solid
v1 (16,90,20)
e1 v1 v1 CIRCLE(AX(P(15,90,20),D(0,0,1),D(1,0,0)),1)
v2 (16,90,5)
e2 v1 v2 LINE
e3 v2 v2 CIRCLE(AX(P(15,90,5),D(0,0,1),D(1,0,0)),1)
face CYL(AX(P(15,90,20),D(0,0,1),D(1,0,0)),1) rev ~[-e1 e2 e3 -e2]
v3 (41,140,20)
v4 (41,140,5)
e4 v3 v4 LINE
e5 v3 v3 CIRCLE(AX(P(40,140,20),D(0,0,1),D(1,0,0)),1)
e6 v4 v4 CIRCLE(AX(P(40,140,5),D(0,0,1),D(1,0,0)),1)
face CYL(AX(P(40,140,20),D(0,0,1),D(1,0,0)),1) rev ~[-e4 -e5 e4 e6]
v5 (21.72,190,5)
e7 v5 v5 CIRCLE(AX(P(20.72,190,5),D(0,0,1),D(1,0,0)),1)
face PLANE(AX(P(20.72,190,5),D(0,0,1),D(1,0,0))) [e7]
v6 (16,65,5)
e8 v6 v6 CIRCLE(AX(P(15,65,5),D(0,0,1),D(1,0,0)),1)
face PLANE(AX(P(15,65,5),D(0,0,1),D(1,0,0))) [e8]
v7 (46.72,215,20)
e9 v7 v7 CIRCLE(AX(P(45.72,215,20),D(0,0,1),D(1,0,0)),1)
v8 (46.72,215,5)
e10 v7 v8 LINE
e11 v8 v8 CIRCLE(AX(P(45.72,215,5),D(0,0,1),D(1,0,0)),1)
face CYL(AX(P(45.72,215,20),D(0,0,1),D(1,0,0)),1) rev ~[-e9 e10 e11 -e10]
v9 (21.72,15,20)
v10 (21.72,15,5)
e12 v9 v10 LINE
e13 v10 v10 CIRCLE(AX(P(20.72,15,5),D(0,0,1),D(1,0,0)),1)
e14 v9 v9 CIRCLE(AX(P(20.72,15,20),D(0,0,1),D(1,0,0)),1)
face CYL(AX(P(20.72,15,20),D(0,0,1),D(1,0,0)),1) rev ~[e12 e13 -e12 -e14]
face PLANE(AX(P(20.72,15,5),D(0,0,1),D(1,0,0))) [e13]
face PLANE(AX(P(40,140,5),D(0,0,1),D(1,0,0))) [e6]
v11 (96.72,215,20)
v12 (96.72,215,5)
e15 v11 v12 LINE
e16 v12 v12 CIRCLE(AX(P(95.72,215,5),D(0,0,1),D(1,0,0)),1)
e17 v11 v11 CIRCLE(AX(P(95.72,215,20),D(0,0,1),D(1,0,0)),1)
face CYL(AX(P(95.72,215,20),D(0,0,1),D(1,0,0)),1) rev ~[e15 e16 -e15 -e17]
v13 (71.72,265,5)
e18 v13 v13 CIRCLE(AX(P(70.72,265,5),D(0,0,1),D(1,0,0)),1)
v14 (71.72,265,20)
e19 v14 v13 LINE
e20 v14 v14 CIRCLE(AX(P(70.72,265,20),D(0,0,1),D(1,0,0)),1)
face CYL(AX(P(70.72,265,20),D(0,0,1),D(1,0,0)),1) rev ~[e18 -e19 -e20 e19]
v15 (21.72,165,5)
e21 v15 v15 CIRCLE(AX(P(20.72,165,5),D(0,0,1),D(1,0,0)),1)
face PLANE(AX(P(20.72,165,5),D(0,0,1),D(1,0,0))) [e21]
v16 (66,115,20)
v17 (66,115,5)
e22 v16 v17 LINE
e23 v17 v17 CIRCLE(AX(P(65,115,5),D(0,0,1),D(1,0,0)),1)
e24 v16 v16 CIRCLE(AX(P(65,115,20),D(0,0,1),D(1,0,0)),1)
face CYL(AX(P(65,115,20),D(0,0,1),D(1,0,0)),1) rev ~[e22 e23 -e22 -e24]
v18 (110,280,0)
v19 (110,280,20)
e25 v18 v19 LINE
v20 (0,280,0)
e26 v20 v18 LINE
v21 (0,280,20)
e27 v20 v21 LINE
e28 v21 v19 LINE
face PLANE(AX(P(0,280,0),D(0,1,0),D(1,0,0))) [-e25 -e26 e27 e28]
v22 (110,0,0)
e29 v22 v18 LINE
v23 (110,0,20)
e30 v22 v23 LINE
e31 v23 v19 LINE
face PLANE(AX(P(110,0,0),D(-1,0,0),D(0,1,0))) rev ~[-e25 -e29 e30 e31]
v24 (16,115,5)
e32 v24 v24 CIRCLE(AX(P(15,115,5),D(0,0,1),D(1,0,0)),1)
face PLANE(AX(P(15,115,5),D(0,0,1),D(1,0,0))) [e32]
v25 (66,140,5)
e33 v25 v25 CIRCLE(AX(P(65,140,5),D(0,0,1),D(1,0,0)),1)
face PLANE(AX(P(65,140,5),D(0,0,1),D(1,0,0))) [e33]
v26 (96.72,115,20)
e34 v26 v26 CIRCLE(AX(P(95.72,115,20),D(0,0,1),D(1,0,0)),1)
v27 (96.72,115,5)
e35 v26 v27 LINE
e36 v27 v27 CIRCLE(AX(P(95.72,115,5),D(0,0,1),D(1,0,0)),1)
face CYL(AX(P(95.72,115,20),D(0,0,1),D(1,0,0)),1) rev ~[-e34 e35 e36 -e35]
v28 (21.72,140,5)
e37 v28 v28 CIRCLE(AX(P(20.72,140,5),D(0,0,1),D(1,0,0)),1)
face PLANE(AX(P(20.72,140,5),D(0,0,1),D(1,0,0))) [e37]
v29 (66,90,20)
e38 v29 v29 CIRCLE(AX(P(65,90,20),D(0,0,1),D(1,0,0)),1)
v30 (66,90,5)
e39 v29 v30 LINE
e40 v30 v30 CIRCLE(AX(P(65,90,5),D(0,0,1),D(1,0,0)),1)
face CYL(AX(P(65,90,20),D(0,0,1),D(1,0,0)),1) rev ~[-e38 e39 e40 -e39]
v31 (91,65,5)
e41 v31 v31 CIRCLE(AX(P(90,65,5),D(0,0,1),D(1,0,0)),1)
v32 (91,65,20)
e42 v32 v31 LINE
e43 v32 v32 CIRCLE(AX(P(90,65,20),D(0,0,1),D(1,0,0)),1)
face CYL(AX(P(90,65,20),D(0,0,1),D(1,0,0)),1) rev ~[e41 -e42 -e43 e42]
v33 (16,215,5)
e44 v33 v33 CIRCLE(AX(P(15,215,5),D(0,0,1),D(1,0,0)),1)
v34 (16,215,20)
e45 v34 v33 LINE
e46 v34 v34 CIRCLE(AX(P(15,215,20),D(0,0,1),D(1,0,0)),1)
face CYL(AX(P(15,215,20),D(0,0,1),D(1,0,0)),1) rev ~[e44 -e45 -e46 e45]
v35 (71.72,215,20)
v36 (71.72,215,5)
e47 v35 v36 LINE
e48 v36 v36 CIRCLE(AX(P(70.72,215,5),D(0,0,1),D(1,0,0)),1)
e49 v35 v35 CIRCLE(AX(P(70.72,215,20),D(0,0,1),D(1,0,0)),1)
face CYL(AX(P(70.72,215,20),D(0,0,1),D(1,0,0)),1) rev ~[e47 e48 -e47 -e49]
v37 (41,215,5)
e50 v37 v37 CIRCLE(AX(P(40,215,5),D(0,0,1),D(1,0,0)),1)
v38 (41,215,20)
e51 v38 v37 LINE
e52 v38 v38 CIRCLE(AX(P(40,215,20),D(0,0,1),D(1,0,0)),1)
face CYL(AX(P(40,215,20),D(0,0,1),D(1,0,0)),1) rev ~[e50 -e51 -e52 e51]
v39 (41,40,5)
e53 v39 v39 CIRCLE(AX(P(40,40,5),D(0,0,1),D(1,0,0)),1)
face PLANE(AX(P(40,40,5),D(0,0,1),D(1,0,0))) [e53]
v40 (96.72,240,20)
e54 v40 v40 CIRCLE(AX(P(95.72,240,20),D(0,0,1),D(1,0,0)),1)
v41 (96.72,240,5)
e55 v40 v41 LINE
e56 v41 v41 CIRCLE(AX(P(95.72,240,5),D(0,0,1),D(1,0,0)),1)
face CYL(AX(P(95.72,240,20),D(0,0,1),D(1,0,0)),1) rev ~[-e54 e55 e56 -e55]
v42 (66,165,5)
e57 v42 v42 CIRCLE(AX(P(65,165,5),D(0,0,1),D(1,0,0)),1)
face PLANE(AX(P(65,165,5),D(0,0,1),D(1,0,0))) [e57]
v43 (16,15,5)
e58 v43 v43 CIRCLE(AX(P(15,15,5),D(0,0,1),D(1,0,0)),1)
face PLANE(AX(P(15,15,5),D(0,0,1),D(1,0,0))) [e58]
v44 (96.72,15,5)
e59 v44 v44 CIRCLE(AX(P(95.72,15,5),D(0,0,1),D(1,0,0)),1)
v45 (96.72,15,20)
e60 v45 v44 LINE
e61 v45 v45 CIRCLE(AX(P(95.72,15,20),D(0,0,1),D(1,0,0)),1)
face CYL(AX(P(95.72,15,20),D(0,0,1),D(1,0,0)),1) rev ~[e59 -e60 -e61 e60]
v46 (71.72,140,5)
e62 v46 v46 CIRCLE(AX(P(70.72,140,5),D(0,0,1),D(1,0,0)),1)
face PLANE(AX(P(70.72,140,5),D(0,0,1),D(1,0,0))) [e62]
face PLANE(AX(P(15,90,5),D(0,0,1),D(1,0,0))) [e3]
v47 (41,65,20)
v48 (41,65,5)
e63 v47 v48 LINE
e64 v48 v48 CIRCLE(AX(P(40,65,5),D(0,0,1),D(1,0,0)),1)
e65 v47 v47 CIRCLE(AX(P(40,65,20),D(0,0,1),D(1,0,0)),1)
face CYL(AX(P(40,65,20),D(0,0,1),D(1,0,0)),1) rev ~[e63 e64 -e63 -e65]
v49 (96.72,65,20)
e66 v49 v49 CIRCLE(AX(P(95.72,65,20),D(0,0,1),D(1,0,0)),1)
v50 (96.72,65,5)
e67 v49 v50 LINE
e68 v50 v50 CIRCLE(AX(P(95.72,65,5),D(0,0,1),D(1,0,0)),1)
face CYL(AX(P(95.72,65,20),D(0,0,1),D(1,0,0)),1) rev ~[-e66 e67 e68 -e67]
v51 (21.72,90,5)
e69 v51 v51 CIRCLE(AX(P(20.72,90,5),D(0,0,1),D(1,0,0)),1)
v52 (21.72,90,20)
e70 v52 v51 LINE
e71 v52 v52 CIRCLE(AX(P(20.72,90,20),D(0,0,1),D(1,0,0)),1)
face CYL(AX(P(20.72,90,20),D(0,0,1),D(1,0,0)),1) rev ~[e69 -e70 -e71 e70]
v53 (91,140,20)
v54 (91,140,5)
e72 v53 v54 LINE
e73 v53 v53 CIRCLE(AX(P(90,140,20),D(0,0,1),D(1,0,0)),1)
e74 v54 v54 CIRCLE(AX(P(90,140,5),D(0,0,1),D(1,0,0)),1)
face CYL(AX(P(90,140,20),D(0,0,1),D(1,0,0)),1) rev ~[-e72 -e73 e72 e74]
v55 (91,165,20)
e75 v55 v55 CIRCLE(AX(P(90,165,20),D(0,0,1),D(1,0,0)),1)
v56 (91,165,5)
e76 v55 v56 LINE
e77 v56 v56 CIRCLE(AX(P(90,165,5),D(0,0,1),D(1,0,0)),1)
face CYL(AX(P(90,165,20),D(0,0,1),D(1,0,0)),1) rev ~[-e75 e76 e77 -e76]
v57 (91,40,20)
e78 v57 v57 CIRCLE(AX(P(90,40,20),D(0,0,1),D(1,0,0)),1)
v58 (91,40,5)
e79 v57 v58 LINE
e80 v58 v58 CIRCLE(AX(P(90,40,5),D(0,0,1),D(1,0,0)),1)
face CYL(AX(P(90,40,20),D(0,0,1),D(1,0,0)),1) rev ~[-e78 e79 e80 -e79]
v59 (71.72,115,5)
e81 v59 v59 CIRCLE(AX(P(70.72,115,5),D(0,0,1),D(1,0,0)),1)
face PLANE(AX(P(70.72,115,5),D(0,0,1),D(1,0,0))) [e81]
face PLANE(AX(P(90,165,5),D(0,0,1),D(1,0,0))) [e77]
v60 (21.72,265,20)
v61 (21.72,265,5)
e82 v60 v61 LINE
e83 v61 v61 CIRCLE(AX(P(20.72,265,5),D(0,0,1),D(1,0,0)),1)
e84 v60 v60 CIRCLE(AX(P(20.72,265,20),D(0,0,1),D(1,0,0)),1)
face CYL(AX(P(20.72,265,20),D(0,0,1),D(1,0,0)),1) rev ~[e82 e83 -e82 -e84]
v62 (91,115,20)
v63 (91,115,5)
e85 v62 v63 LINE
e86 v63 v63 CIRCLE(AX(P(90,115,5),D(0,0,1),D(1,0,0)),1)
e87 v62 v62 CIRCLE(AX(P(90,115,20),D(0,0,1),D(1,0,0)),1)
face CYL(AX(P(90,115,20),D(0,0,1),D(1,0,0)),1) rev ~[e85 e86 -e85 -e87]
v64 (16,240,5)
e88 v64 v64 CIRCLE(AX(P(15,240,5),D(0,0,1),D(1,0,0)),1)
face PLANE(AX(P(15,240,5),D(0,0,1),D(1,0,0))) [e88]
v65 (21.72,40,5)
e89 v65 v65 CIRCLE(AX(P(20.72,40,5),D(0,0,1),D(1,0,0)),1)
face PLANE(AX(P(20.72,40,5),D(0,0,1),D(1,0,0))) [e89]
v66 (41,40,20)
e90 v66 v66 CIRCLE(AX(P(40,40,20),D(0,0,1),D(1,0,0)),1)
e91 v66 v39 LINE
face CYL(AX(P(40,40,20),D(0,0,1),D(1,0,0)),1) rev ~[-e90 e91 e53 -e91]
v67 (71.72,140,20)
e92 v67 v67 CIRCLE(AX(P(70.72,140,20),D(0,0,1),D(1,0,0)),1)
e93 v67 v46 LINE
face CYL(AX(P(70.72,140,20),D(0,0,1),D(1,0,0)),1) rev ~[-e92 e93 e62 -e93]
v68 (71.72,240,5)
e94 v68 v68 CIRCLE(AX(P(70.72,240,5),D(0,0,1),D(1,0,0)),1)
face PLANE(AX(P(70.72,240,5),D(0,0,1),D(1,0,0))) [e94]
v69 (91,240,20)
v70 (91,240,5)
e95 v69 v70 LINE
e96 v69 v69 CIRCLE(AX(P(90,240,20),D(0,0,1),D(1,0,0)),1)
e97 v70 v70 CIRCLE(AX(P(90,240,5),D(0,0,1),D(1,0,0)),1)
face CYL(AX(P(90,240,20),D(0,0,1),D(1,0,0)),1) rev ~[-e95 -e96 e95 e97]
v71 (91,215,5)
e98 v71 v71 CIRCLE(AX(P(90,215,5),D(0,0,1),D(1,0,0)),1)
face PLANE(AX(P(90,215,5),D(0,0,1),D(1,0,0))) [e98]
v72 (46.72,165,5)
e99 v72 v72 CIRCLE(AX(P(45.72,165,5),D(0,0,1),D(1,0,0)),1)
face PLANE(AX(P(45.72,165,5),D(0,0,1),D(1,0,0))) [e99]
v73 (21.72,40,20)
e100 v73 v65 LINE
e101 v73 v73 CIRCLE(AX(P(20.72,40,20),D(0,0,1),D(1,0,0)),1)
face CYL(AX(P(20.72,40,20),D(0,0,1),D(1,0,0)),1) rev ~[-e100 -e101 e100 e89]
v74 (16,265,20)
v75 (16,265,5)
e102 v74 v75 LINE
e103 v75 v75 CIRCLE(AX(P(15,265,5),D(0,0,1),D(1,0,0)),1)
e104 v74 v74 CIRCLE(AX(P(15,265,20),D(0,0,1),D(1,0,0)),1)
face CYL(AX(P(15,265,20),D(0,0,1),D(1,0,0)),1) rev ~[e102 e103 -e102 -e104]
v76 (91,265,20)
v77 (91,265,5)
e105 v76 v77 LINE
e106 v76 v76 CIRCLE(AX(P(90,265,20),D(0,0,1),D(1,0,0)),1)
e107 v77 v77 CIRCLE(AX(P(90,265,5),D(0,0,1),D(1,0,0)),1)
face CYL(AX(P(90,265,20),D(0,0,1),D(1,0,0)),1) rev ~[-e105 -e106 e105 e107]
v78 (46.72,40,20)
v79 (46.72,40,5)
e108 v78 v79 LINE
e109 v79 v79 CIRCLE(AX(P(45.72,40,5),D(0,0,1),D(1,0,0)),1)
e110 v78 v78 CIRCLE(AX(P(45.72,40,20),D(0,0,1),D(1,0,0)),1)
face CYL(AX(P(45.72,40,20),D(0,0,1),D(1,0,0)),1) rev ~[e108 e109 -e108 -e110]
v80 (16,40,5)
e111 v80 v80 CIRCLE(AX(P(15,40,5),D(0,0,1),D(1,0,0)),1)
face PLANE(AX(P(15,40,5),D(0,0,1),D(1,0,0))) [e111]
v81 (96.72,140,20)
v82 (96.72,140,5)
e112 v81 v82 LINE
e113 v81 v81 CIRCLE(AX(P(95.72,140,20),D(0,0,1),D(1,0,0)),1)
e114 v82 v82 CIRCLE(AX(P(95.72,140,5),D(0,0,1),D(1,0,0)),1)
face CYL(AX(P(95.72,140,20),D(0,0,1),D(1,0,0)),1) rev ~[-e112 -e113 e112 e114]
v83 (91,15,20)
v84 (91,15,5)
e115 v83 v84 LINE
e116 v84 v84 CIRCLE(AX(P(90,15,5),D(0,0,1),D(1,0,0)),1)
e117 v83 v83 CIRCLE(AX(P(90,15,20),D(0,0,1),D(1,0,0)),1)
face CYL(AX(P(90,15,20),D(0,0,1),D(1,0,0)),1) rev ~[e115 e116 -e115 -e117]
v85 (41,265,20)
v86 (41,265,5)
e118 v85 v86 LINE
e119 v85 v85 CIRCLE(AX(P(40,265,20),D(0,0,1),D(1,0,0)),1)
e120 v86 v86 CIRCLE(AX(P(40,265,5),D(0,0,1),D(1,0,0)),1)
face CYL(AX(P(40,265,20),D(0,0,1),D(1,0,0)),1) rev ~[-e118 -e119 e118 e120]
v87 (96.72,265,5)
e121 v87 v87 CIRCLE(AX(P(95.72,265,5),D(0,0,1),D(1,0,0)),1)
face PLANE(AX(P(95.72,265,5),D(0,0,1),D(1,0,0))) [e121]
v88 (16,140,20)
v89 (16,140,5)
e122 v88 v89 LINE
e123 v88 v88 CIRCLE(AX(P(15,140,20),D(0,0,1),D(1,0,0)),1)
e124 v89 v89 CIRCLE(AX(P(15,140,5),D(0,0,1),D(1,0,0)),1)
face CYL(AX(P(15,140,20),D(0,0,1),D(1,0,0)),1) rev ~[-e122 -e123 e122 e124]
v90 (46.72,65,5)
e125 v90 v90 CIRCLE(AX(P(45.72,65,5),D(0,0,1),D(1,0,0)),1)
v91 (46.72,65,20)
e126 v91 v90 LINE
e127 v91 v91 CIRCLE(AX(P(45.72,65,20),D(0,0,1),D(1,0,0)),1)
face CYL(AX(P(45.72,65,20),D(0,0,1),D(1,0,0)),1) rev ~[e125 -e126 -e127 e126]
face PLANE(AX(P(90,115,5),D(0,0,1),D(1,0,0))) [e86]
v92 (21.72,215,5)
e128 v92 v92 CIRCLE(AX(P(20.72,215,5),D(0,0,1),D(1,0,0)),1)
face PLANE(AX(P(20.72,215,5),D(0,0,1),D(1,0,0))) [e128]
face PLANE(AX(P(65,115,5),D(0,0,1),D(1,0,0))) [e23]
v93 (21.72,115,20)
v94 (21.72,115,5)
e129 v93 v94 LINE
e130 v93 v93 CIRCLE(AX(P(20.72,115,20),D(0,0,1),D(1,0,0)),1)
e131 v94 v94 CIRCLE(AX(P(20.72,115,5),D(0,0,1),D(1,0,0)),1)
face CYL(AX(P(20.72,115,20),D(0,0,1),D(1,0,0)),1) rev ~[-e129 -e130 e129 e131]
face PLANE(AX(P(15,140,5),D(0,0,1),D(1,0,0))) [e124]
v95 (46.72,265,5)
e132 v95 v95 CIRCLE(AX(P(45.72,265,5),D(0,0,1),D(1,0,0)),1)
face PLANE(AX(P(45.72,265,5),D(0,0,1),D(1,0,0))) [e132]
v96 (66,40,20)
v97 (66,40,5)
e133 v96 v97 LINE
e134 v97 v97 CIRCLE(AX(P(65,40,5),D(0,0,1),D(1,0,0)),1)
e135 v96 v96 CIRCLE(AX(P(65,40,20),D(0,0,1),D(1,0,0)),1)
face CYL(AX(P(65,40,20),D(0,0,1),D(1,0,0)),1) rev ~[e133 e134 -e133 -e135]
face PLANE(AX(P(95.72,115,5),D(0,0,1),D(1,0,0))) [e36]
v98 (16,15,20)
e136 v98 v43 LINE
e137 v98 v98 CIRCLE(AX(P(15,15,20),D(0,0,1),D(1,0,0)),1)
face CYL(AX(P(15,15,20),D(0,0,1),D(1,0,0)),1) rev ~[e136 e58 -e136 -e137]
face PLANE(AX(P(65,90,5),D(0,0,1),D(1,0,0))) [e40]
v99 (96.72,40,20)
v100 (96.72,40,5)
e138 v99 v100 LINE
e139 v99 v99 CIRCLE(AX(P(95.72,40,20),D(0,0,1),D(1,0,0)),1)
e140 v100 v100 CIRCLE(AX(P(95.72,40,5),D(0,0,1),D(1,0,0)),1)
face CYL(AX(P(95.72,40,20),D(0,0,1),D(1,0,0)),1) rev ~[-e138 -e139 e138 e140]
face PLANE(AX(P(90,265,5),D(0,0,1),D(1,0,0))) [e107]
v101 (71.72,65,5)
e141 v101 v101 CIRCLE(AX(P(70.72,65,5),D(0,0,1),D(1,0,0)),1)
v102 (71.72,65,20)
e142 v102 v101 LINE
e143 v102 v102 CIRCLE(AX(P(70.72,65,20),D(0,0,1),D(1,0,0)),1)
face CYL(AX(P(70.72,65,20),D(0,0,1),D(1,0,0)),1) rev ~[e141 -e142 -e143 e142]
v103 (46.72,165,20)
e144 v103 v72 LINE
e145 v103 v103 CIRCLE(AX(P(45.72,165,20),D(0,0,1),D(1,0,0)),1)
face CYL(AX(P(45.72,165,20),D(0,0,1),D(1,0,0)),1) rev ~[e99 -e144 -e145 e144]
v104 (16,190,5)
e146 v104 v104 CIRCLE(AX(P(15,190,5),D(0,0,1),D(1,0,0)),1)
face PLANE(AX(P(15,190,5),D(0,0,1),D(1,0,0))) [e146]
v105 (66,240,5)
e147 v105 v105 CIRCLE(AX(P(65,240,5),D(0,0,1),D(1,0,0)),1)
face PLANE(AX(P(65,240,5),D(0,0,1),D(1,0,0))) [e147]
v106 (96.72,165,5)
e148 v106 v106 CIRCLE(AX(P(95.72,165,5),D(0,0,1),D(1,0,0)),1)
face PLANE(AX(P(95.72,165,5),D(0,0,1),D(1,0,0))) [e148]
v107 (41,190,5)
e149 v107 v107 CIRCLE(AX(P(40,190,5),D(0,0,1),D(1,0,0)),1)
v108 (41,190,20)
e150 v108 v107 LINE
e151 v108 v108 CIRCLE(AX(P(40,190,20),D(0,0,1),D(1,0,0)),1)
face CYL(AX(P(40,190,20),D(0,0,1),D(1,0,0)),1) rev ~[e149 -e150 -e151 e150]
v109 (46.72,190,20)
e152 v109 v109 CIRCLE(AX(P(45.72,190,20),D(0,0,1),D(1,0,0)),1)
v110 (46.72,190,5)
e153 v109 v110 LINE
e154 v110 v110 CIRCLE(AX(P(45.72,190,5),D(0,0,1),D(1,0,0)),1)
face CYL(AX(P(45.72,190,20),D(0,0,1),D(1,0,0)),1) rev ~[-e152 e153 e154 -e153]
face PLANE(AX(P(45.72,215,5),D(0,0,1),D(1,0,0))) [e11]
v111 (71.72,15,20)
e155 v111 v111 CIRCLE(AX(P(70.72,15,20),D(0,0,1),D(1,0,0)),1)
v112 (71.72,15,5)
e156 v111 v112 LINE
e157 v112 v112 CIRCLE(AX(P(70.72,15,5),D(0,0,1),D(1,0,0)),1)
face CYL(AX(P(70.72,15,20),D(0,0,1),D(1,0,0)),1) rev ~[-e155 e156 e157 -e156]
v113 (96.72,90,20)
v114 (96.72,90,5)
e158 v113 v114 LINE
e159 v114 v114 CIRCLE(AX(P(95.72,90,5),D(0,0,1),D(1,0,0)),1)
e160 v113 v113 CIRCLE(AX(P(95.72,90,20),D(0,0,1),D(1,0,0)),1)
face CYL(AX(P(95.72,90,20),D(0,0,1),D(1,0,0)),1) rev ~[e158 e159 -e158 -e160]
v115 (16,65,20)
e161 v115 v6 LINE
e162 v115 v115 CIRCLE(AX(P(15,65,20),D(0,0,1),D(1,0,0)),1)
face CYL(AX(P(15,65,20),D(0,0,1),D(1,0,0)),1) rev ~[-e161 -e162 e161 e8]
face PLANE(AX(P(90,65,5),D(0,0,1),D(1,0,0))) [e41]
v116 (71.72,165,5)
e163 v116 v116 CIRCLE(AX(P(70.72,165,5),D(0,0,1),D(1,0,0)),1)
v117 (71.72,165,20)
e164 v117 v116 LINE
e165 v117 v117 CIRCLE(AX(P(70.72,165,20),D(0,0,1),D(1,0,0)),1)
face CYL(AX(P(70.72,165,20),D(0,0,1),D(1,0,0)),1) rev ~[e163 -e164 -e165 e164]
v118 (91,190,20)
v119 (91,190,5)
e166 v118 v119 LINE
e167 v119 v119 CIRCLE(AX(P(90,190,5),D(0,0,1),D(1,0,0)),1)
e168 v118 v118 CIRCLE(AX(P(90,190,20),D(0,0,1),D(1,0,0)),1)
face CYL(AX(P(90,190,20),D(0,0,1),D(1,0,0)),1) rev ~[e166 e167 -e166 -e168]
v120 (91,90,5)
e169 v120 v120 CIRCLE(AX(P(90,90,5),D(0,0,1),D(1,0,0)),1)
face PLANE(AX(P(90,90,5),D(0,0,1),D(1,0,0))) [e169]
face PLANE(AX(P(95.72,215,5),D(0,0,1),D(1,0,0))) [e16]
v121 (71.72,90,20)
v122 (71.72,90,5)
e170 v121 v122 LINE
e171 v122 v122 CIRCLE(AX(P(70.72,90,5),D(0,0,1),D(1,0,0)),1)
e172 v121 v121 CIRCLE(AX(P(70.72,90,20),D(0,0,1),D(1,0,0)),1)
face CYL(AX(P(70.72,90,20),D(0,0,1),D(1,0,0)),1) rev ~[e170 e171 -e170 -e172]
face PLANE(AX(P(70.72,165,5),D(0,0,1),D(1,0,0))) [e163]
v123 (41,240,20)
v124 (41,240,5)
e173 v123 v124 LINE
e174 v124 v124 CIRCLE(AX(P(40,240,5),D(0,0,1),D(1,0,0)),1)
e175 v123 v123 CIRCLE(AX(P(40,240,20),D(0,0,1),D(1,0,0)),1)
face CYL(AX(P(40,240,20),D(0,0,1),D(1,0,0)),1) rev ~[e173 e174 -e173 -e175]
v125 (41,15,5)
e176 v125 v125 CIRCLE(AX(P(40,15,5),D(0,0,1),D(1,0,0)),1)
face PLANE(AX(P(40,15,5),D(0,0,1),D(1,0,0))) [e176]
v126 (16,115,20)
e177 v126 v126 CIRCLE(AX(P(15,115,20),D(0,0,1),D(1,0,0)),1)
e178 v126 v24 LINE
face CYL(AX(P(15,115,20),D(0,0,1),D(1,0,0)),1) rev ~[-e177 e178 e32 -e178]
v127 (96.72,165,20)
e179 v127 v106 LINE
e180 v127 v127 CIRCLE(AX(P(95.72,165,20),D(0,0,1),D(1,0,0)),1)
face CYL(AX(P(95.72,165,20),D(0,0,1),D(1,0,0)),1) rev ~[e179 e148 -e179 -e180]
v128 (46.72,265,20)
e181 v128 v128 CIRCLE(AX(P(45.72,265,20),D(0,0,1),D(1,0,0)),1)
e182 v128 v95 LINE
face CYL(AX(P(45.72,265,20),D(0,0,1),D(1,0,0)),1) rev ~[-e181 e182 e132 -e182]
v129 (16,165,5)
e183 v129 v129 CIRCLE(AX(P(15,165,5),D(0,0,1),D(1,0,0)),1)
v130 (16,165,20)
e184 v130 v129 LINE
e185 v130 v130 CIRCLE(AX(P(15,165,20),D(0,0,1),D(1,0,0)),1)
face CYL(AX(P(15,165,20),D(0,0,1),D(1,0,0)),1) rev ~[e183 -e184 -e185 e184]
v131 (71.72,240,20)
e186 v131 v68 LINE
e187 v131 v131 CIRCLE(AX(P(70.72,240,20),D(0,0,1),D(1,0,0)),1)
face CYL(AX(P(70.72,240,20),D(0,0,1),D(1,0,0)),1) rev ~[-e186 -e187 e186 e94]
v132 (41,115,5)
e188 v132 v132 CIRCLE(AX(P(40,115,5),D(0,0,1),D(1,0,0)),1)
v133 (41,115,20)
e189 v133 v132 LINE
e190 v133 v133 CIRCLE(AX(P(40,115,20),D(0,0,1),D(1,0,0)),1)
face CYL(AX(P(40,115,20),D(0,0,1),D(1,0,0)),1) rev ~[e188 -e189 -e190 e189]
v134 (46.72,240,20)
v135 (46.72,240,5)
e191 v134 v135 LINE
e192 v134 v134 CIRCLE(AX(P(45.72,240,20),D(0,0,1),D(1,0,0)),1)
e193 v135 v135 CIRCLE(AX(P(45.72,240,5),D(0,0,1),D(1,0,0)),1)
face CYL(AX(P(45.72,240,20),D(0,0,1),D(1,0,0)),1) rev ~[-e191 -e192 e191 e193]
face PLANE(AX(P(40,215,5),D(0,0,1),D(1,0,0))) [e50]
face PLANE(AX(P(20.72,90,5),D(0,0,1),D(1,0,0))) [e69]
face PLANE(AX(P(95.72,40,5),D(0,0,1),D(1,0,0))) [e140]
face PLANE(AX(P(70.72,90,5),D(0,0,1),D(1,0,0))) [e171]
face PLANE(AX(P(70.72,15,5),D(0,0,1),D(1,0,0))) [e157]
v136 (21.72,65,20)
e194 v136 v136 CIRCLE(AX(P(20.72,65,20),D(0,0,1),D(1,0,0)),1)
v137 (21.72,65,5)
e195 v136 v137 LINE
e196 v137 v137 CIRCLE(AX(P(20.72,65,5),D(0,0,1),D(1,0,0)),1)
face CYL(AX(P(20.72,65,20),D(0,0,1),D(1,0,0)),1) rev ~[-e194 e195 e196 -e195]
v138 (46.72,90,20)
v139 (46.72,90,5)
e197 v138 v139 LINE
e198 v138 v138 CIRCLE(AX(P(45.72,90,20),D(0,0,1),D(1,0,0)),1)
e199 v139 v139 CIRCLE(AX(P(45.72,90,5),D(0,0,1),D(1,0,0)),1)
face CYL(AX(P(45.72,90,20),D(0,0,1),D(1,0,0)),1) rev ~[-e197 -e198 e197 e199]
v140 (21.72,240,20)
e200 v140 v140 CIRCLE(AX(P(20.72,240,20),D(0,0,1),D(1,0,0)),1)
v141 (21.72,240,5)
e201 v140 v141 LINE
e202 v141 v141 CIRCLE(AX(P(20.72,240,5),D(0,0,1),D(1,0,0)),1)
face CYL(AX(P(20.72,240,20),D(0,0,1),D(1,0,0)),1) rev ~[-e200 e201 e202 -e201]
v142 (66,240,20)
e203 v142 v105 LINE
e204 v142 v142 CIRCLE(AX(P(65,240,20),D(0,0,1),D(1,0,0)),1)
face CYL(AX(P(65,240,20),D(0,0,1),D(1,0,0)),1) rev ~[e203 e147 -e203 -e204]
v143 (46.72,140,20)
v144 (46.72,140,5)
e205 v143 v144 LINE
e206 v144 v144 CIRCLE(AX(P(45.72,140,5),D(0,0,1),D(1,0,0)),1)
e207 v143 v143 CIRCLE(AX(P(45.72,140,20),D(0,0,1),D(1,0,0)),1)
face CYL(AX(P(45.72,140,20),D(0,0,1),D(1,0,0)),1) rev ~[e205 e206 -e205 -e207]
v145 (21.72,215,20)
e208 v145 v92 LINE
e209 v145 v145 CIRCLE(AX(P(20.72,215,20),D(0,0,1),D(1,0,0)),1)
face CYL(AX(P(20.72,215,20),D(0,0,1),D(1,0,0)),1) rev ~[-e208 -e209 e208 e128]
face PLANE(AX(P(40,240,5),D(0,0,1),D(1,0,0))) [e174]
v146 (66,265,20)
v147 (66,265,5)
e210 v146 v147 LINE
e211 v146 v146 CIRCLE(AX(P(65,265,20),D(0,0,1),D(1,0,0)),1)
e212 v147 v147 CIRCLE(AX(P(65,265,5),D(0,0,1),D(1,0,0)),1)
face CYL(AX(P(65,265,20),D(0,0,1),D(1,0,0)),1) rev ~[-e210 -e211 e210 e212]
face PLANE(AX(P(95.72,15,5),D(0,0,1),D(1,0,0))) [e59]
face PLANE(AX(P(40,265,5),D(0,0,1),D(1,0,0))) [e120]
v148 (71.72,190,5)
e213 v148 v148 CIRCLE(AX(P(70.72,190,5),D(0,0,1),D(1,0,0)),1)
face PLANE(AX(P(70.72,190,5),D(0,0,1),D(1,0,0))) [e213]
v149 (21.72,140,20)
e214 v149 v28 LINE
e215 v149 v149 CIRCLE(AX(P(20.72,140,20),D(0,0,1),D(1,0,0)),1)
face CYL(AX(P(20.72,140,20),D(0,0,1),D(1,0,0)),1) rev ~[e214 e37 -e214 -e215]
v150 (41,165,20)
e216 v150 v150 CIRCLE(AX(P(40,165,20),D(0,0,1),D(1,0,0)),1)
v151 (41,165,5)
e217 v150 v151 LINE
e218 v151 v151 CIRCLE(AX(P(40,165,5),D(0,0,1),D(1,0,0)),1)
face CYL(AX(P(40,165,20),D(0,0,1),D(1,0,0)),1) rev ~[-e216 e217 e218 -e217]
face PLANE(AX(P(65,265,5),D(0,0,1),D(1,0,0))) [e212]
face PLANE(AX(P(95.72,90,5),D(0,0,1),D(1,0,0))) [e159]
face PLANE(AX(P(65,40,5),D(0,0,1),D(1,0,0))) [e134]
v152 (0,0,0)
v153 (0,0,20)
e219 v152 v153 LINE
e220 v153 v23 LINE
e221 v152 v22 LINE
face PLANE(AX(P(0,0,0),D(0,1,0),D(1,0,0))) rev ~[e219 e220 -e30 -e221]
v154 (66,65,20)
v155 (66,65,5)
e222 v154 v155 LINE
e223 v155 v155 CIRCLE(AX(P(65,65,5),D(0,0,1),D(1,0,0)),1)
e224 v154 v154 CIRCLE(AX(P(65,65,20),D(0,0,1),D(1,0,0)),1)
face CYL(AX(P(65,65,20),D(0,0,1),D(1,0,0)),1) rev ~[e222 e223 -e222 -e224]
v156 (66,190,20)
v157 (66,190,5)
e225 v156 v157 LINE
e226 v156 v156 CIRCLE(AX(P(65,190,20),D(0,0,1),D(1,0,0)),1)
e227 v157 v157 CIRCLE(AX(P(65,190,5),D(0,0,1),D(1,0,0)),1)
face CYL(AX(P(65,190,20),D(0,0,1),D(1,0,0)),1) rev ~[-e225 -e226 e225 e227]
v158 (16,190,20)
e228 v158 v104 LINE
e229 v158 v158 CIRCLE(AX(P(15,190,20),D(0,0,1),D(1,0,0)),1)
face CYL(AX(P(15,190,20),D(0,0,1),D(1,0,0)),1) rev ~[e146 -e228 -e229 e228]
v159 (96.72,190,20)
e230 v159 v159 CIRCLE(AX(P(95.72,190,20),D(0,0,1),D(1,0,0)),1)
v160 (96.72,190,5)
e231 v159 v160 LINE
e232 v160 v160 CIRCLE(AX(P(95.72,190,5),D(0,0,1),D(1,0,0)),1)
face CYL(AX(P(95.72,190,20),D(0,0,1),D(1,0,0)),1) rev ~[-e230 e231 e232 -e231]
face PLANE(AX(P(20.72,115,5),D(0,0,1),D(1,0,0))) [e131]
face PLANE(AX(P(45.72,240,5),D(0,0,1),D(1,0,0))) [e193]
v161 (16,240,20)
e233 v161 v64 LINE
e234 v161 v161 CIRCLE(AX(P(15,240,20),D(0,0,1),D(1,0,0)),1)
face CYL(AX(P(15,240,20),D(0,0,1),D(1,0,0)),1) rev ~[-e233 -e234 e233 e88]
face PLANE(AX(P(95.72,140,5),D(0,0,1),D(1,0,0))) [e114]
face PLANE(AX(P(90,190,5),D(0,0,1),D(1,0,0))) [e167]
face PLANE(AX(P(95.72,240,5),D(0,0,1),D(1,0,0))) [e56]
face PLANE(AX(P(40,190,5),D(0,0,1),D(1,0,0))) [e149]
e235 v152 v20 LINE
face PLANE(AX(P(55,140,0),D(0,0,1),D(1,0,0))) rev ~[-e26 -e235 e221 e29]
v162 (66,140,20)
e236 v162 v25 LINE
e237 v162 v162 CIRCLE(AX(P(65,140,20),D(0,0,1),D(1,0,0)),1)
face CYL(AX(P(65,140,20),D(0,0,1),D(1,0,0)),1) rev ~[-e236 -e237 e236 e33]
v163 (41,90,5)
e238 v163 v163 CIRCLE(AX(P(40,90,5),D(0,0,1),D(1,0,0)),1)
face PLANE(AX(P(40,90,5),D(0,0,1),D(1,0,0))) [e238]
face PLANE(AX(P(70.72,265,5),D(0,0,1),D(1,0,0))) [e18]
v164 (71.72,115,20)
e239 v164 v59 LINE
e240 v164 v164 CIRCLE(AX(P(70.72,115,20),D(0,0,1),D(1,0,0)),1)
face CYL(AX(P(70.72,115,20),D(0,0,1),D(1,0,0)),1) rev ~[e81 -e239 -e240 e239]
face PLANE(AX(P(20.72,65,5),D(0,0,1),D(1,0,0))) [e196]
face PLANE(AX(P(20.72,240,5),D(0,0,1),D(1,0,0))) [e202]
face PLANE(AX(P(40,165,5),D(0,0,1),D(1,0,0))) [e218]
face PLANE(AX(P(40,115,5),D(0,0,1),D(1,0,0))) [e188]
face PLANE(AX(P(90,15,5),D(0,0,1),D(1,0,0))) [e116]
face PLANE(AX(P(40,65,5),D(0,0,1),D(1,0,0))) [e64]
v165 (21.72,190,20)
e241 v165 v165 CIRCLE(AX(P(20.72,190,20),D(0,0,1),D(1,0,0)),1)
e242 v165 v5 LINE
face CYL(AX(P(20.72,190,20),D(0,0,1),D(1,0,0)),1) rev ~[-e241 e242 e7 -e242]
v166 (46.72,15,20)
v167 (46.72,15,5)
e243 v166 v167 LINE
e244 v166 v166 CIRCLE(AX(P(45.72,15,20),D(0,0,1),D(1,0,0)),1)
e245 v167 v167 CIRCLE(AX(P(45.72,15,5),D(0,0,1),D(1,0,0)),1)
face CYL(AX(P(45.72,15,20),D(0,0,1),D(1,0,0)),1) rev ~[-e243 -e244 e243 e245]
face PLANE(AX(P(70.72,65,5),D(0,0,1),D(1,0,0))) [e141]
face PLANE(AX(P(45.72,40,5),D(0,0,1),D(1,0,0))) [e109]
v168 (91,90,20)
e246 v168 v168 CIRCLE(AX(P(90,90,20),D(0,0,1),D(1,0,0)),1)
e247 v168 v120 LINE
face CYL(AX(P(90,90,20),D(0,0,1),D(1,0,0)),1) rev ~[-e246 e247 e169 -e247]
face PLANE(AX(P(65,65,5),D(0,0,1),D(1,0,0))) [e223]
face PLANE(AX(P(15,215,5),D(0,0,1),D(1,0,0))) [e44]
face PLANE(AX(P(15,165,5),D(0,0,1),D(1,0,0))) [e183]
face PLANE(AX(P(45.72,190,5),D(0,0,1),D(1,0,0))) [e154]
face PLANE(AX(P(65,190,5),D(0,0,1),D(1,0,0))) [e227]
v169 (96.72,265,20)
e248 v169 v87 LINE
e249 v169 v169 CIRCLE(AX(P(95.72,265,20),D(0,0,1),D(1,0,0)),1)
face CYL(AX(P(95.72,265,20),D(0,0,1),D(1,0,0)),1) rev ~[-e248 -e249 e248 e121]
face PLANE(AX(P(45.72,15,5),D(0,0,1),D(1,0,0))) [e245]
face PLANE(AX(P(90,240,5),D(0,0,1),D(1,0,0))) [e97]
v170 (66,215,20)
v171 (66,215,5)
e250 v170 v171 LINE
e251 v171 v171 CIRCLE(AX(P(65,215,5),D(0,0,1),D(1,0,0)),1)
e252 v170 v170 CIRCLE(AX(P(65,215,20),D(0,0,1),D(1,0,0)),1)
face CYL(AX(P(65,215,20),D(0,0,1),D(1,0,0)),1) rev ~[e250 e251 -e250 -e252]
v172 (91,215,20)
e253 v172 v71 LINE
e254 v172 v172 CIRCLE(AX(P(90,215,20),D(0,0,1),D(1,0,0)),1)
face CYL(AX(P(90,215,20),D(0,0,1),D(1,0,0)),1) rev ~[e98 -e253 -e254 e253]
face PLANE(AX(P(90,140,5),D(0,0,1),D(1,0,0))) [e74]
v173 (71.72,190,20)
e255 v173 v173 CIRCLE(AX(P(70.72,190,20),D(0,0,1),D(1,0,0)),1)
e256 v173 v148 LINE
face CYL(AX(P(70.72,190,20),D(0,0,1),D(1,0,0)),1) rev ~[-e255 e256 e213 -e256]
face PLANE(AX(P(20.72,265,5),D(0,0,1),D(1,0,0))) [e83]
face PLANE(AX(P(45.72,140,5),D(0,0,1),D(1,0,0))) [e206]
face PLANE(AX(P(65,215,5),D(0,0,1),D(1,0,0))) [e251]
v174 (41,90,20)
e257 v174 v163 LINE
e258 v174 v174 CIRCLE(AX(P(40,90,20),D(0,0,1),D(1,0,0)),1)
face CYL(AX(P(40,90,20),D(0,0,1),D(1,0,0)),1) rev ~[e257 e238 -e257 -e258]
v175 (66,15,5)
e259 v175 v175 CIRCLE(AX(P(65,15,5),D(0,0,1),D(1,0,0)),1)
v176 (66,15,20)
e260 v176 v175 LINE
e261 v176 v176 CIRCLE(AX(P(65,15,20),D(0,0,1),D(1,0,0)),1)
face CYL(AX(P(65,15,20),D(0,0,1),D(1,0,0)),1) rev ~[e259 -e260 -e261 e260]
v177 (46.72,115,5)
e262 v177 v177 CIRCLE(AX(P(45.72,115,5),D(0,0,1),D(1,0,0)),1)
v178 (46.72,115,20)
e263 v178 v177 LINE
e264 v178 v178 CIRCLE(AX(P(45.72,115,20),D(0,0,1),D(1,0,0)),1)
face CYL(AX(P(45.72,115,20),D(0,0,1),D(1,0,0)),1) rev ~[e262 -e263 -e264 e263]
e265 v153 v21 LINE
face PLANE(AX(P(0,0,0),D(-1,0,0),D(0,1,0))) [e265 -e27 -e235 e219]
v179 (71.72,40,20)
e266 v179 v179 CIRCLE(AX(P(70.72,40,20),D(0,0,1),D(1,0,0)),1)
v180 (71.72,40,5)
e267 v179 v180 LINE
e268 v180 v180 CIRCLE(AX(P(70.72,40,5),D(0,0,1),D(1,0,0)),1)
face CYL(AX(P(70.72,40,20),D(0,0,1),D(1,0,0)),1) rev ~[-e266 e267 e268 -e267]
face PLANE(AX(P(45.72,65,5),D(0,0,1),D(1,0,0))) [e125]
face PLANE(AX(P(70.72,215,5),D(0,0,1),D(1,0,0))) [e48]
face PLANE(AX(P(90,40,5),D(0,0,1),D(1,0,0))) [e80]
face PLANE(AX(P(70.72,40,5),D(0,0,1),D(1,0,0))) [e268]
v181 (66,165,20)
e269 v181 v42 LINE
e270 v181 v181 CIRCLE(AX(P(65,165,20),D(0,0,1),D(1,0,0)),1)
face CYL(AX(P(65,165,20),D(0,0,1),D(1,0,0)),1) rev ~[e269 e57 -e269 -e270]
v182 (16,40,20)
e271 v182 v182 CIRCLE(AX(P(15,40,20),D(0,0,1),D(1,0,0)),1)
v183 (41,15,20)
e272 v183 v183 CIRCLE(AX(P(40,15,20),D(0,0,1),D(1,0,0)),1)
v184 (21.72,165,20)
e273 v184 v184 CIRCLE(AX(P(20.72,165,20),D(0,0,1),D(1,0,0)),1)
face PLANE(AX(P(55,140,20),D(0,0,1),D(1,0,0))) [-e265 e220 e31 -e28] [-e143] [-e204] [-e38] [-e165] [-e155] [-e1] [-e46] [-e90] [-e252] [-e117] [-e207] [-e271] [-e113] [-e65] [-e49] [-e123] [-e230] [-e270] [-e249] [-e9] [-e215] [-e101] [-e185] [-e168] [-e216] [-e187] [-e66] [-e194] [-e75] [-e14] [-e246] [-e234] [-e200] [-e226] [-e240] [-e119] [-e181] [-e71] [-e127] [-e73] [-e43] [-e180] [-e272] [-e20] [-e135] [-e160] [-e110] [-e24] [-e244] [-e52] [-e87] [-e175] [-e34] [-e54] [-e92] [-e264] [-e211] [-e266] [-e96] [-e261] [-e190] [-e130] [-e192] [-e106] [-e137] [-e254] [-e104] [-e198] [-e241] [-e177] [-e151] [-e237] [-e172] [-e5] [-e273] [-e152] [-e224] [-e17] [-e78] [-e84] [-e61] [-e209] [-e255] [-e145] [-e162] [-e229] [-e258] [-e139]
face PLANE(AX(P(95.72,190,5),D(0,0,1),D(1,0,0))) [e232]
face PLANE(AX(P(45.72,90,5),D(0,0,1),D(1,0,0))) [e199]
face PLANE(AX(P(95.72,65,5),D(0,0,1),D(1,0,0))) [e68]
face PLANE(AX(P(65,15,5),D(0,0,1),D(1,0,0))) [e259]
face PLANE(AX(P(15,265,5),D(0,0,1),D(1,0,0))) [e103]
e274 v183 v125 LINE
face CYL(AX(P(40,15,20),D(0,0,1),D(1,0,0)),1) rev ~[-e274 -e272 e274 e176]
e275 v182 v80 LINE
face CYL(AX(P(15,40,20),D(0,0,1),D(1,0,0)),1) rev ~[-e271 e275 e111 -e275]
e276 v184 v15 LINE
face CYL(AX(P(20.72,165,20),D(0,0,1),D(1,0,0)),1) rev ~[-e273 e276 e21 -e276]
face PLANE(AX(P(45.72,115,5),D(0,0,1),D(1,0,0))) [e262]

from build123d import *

# Parameters (mm, degrees)
F0_W     = 110
F0_H     = 280
F1_DEPTH = 20
F2_R     = 1
F3_DEPTH = 15


with BuildPart() as f1:
    # F0 (on Top) → F1 (new body)
    with BuildSketch(Plane.XY):
        with Locations((55, 140)):
            Rectangle(F0_W, F0_H)
    extrude(amount=F1_DEPTH)

    # F2 (on face) → F3 (cut)
    with BuildSketch(Plane.XY.offset(20)):
        with Locations((15, 15)):
            Circle(F2_R)
        with Locations((20.72, 15)):
            Circle(F2_R)
        with Locations((15, 40)):
            Circle(F2_R)
        with Locations((20.72, 40)):
            Circle(F2_R)
        with Locations((15, 65)):
            Circle(F2_R)
        with Locations((20.72, 65)):
            Circle(F2_R)
        with Locations((15, 90)):
            Circle(F2_R)
        with Locations((20.72, 90)):
            Circle(F2_R)
        with Locations((15, 115)):
            Circle(F2_R)
        with Locations((20.72, 115)):
            Circle(F2_R)
        with Locations((15, 140)):
            Circle(F2_R)
        with Locations((20.72, 140)):
            Circle(F2_R)
        with Locations((15, 165)):
            Circle(F2_R)
        with Locations((20.72, 165)):
            Circle(F2_R)
        with Locations((15, 190)):
            Circle(F2_R)
        with Locations((20.72, 190)):
            Circle(F2_R)
        with Locations((15, 215)):
            Circle(F2_R)
        with Locations((20.72, 215)):
            Circle(F2_R)
        with Locations((15, 240)):
            Circle(F2_R)
        with Locations((20.72, 240)):
            Circle(F2_R)
        with Locations((40, 15)):
            Circle(F2_R)
        with Locations((45.72, 15)):
            Circle(F2_R)
        with Locations((40, 40)):
            Circle(F2_R)
        with Locations((45.72, 40)):
            Circle(F2_R)
        with Locations((40, 65)):
            Circle(F2_R)
        with Locations((45.72, 65)):
            Circle(F2_R)
        with Locations((40, 90)):
            Circle(F2_R)
        with Locations((45.72, 90)):
            Circle(F2_R)
        with Locations((40, 115)):
            Circle(F2_R)
        with Locations((45.72, 115)):
            Circle(F2_R)
        with Locations((40, 140)):
            Circle(F2_R)
        with Locations((45.72, 140)):
            Circle(F2_R)
        with Locations((40, 165)):
            Circle(F2_R)
        with Locations((45.72, 165)):
            Circle(F2_R)
        with Locations((40, 190)):
            Circle(F2_R)
        with Locations((45.72, 190)):
            Circle(F2_R)
        with Locations((40, 215)):
            Circle(F2_R)
        with Locations((45.72, 215)):
            Circle(F2_R)
        with Locations((40, 240)):
            Circle(F2_R)
        with Locations((45.72, 240)):
            Circle(F2_R)
        with Locations((65, 15)):
            Circle(F2_R)
        with Locations((70.72, 15)):
            Circle(F2_R)
        with Locations((65, 40)):
            Circle(F2_R)
        with Locations((70.72, 40)):
            Circle(F2_R)
        with Locations((65, 65)):
            Circle(F2_R)
        with Locations((70.72, 65)):
            Circle(F2_R)
        with Locations((65, 90)):
            Circle(F2_R)
        with Locations((70.72, 90)):
            Circle(F2_R)
        with Locations((65, 115)):
            Circle(F2_R)
        with Locations((70.72, 115)):
            Circle(F2_R)
        with Locations((65, 140)):
            Circle(F2_R)
        with Locations((70.72, 140)):
            Circle(F2_R)
        with Locations((65, 165)):
            Circle(F2_R)
        with Locations((70.72, 165)):
            Circle(F2_R)
        with Locations((65, 190)):
            Circle(F2_R)
        with Locations((70.72, 190)):
            Circle(F2_R)
        with Locations((65, 215)):
            Circle(F2_R)
        with Locations((70.72, 215)):
            Circle(F2_R)
        with Locations((65, 240)):
            Circle(F2_R)
        with Locations((70.72, 240)):
            Circle(F2_R)
        with Locations((90, 15)):
            Circle(F2_R)
        with Locations((95.72, 15)):
            Circle(F2_R)
        with Locations((90, 40)):
            Circle(F2_R)
        with Locations((95.72, 40)):
            Circle(F2_R)
        with Locations((90, 65)):
            Circle(F2_R)
        with Locations((95.72, 65)):
            Circle(F2_R)
        with Locations((90, 90)):
            Circle(F2_R)
        with Locations((95.72, 90)):
            Circle(F2_R)
        with Locations((90, 115)):
            Circle(F2_R)
        with Locations((95.72, 115)):
            Circle(F2_R)
        with Locations((90, 140)):
            Circle(F2_R)
        with Locations((95.72, 140)):
            Circle(F2_R)
        with Locations((90, 165)):
            Circle(F2_R)
        with Locations((95.72, 165)):
            Circle(F2_R)
        with Locations((90, 190)):
            Circle(F2_R)
        with Locations((95.72, 190)):
            Circle(F2_R)
        with Locations((90, 215)):
            Circle(F2_R)
        with Locations((95.72, 215)):
            Circle(F2_R)
        with Locations((90, 240)):
            Circle(F2_R)
        with Locations((95.72, 240)):
            Circle(F2_R)
        with Locations((15, 265)):
            Circle(F2_R)
        with Locations((20.72, 265)):
            Circle(F2_R)
        with Locations((40, 265)):
            Circle(F2_R)
        with Locations((45.72, 265)):
            Circle(F2_R)
        with Locations((65, 265)):
            Circle(F2_R)
        with Locations((70.72, 265)):
            Circle(F2_R)
        with Locations((90, 265)):
            Circle(F2_R)
        with Locations((95.72, 265)):
            Circle(F2_R)
    extrude(amount=-F3_DEPTH, mode=Mode.SUBTRACT)


solid = f1.part
